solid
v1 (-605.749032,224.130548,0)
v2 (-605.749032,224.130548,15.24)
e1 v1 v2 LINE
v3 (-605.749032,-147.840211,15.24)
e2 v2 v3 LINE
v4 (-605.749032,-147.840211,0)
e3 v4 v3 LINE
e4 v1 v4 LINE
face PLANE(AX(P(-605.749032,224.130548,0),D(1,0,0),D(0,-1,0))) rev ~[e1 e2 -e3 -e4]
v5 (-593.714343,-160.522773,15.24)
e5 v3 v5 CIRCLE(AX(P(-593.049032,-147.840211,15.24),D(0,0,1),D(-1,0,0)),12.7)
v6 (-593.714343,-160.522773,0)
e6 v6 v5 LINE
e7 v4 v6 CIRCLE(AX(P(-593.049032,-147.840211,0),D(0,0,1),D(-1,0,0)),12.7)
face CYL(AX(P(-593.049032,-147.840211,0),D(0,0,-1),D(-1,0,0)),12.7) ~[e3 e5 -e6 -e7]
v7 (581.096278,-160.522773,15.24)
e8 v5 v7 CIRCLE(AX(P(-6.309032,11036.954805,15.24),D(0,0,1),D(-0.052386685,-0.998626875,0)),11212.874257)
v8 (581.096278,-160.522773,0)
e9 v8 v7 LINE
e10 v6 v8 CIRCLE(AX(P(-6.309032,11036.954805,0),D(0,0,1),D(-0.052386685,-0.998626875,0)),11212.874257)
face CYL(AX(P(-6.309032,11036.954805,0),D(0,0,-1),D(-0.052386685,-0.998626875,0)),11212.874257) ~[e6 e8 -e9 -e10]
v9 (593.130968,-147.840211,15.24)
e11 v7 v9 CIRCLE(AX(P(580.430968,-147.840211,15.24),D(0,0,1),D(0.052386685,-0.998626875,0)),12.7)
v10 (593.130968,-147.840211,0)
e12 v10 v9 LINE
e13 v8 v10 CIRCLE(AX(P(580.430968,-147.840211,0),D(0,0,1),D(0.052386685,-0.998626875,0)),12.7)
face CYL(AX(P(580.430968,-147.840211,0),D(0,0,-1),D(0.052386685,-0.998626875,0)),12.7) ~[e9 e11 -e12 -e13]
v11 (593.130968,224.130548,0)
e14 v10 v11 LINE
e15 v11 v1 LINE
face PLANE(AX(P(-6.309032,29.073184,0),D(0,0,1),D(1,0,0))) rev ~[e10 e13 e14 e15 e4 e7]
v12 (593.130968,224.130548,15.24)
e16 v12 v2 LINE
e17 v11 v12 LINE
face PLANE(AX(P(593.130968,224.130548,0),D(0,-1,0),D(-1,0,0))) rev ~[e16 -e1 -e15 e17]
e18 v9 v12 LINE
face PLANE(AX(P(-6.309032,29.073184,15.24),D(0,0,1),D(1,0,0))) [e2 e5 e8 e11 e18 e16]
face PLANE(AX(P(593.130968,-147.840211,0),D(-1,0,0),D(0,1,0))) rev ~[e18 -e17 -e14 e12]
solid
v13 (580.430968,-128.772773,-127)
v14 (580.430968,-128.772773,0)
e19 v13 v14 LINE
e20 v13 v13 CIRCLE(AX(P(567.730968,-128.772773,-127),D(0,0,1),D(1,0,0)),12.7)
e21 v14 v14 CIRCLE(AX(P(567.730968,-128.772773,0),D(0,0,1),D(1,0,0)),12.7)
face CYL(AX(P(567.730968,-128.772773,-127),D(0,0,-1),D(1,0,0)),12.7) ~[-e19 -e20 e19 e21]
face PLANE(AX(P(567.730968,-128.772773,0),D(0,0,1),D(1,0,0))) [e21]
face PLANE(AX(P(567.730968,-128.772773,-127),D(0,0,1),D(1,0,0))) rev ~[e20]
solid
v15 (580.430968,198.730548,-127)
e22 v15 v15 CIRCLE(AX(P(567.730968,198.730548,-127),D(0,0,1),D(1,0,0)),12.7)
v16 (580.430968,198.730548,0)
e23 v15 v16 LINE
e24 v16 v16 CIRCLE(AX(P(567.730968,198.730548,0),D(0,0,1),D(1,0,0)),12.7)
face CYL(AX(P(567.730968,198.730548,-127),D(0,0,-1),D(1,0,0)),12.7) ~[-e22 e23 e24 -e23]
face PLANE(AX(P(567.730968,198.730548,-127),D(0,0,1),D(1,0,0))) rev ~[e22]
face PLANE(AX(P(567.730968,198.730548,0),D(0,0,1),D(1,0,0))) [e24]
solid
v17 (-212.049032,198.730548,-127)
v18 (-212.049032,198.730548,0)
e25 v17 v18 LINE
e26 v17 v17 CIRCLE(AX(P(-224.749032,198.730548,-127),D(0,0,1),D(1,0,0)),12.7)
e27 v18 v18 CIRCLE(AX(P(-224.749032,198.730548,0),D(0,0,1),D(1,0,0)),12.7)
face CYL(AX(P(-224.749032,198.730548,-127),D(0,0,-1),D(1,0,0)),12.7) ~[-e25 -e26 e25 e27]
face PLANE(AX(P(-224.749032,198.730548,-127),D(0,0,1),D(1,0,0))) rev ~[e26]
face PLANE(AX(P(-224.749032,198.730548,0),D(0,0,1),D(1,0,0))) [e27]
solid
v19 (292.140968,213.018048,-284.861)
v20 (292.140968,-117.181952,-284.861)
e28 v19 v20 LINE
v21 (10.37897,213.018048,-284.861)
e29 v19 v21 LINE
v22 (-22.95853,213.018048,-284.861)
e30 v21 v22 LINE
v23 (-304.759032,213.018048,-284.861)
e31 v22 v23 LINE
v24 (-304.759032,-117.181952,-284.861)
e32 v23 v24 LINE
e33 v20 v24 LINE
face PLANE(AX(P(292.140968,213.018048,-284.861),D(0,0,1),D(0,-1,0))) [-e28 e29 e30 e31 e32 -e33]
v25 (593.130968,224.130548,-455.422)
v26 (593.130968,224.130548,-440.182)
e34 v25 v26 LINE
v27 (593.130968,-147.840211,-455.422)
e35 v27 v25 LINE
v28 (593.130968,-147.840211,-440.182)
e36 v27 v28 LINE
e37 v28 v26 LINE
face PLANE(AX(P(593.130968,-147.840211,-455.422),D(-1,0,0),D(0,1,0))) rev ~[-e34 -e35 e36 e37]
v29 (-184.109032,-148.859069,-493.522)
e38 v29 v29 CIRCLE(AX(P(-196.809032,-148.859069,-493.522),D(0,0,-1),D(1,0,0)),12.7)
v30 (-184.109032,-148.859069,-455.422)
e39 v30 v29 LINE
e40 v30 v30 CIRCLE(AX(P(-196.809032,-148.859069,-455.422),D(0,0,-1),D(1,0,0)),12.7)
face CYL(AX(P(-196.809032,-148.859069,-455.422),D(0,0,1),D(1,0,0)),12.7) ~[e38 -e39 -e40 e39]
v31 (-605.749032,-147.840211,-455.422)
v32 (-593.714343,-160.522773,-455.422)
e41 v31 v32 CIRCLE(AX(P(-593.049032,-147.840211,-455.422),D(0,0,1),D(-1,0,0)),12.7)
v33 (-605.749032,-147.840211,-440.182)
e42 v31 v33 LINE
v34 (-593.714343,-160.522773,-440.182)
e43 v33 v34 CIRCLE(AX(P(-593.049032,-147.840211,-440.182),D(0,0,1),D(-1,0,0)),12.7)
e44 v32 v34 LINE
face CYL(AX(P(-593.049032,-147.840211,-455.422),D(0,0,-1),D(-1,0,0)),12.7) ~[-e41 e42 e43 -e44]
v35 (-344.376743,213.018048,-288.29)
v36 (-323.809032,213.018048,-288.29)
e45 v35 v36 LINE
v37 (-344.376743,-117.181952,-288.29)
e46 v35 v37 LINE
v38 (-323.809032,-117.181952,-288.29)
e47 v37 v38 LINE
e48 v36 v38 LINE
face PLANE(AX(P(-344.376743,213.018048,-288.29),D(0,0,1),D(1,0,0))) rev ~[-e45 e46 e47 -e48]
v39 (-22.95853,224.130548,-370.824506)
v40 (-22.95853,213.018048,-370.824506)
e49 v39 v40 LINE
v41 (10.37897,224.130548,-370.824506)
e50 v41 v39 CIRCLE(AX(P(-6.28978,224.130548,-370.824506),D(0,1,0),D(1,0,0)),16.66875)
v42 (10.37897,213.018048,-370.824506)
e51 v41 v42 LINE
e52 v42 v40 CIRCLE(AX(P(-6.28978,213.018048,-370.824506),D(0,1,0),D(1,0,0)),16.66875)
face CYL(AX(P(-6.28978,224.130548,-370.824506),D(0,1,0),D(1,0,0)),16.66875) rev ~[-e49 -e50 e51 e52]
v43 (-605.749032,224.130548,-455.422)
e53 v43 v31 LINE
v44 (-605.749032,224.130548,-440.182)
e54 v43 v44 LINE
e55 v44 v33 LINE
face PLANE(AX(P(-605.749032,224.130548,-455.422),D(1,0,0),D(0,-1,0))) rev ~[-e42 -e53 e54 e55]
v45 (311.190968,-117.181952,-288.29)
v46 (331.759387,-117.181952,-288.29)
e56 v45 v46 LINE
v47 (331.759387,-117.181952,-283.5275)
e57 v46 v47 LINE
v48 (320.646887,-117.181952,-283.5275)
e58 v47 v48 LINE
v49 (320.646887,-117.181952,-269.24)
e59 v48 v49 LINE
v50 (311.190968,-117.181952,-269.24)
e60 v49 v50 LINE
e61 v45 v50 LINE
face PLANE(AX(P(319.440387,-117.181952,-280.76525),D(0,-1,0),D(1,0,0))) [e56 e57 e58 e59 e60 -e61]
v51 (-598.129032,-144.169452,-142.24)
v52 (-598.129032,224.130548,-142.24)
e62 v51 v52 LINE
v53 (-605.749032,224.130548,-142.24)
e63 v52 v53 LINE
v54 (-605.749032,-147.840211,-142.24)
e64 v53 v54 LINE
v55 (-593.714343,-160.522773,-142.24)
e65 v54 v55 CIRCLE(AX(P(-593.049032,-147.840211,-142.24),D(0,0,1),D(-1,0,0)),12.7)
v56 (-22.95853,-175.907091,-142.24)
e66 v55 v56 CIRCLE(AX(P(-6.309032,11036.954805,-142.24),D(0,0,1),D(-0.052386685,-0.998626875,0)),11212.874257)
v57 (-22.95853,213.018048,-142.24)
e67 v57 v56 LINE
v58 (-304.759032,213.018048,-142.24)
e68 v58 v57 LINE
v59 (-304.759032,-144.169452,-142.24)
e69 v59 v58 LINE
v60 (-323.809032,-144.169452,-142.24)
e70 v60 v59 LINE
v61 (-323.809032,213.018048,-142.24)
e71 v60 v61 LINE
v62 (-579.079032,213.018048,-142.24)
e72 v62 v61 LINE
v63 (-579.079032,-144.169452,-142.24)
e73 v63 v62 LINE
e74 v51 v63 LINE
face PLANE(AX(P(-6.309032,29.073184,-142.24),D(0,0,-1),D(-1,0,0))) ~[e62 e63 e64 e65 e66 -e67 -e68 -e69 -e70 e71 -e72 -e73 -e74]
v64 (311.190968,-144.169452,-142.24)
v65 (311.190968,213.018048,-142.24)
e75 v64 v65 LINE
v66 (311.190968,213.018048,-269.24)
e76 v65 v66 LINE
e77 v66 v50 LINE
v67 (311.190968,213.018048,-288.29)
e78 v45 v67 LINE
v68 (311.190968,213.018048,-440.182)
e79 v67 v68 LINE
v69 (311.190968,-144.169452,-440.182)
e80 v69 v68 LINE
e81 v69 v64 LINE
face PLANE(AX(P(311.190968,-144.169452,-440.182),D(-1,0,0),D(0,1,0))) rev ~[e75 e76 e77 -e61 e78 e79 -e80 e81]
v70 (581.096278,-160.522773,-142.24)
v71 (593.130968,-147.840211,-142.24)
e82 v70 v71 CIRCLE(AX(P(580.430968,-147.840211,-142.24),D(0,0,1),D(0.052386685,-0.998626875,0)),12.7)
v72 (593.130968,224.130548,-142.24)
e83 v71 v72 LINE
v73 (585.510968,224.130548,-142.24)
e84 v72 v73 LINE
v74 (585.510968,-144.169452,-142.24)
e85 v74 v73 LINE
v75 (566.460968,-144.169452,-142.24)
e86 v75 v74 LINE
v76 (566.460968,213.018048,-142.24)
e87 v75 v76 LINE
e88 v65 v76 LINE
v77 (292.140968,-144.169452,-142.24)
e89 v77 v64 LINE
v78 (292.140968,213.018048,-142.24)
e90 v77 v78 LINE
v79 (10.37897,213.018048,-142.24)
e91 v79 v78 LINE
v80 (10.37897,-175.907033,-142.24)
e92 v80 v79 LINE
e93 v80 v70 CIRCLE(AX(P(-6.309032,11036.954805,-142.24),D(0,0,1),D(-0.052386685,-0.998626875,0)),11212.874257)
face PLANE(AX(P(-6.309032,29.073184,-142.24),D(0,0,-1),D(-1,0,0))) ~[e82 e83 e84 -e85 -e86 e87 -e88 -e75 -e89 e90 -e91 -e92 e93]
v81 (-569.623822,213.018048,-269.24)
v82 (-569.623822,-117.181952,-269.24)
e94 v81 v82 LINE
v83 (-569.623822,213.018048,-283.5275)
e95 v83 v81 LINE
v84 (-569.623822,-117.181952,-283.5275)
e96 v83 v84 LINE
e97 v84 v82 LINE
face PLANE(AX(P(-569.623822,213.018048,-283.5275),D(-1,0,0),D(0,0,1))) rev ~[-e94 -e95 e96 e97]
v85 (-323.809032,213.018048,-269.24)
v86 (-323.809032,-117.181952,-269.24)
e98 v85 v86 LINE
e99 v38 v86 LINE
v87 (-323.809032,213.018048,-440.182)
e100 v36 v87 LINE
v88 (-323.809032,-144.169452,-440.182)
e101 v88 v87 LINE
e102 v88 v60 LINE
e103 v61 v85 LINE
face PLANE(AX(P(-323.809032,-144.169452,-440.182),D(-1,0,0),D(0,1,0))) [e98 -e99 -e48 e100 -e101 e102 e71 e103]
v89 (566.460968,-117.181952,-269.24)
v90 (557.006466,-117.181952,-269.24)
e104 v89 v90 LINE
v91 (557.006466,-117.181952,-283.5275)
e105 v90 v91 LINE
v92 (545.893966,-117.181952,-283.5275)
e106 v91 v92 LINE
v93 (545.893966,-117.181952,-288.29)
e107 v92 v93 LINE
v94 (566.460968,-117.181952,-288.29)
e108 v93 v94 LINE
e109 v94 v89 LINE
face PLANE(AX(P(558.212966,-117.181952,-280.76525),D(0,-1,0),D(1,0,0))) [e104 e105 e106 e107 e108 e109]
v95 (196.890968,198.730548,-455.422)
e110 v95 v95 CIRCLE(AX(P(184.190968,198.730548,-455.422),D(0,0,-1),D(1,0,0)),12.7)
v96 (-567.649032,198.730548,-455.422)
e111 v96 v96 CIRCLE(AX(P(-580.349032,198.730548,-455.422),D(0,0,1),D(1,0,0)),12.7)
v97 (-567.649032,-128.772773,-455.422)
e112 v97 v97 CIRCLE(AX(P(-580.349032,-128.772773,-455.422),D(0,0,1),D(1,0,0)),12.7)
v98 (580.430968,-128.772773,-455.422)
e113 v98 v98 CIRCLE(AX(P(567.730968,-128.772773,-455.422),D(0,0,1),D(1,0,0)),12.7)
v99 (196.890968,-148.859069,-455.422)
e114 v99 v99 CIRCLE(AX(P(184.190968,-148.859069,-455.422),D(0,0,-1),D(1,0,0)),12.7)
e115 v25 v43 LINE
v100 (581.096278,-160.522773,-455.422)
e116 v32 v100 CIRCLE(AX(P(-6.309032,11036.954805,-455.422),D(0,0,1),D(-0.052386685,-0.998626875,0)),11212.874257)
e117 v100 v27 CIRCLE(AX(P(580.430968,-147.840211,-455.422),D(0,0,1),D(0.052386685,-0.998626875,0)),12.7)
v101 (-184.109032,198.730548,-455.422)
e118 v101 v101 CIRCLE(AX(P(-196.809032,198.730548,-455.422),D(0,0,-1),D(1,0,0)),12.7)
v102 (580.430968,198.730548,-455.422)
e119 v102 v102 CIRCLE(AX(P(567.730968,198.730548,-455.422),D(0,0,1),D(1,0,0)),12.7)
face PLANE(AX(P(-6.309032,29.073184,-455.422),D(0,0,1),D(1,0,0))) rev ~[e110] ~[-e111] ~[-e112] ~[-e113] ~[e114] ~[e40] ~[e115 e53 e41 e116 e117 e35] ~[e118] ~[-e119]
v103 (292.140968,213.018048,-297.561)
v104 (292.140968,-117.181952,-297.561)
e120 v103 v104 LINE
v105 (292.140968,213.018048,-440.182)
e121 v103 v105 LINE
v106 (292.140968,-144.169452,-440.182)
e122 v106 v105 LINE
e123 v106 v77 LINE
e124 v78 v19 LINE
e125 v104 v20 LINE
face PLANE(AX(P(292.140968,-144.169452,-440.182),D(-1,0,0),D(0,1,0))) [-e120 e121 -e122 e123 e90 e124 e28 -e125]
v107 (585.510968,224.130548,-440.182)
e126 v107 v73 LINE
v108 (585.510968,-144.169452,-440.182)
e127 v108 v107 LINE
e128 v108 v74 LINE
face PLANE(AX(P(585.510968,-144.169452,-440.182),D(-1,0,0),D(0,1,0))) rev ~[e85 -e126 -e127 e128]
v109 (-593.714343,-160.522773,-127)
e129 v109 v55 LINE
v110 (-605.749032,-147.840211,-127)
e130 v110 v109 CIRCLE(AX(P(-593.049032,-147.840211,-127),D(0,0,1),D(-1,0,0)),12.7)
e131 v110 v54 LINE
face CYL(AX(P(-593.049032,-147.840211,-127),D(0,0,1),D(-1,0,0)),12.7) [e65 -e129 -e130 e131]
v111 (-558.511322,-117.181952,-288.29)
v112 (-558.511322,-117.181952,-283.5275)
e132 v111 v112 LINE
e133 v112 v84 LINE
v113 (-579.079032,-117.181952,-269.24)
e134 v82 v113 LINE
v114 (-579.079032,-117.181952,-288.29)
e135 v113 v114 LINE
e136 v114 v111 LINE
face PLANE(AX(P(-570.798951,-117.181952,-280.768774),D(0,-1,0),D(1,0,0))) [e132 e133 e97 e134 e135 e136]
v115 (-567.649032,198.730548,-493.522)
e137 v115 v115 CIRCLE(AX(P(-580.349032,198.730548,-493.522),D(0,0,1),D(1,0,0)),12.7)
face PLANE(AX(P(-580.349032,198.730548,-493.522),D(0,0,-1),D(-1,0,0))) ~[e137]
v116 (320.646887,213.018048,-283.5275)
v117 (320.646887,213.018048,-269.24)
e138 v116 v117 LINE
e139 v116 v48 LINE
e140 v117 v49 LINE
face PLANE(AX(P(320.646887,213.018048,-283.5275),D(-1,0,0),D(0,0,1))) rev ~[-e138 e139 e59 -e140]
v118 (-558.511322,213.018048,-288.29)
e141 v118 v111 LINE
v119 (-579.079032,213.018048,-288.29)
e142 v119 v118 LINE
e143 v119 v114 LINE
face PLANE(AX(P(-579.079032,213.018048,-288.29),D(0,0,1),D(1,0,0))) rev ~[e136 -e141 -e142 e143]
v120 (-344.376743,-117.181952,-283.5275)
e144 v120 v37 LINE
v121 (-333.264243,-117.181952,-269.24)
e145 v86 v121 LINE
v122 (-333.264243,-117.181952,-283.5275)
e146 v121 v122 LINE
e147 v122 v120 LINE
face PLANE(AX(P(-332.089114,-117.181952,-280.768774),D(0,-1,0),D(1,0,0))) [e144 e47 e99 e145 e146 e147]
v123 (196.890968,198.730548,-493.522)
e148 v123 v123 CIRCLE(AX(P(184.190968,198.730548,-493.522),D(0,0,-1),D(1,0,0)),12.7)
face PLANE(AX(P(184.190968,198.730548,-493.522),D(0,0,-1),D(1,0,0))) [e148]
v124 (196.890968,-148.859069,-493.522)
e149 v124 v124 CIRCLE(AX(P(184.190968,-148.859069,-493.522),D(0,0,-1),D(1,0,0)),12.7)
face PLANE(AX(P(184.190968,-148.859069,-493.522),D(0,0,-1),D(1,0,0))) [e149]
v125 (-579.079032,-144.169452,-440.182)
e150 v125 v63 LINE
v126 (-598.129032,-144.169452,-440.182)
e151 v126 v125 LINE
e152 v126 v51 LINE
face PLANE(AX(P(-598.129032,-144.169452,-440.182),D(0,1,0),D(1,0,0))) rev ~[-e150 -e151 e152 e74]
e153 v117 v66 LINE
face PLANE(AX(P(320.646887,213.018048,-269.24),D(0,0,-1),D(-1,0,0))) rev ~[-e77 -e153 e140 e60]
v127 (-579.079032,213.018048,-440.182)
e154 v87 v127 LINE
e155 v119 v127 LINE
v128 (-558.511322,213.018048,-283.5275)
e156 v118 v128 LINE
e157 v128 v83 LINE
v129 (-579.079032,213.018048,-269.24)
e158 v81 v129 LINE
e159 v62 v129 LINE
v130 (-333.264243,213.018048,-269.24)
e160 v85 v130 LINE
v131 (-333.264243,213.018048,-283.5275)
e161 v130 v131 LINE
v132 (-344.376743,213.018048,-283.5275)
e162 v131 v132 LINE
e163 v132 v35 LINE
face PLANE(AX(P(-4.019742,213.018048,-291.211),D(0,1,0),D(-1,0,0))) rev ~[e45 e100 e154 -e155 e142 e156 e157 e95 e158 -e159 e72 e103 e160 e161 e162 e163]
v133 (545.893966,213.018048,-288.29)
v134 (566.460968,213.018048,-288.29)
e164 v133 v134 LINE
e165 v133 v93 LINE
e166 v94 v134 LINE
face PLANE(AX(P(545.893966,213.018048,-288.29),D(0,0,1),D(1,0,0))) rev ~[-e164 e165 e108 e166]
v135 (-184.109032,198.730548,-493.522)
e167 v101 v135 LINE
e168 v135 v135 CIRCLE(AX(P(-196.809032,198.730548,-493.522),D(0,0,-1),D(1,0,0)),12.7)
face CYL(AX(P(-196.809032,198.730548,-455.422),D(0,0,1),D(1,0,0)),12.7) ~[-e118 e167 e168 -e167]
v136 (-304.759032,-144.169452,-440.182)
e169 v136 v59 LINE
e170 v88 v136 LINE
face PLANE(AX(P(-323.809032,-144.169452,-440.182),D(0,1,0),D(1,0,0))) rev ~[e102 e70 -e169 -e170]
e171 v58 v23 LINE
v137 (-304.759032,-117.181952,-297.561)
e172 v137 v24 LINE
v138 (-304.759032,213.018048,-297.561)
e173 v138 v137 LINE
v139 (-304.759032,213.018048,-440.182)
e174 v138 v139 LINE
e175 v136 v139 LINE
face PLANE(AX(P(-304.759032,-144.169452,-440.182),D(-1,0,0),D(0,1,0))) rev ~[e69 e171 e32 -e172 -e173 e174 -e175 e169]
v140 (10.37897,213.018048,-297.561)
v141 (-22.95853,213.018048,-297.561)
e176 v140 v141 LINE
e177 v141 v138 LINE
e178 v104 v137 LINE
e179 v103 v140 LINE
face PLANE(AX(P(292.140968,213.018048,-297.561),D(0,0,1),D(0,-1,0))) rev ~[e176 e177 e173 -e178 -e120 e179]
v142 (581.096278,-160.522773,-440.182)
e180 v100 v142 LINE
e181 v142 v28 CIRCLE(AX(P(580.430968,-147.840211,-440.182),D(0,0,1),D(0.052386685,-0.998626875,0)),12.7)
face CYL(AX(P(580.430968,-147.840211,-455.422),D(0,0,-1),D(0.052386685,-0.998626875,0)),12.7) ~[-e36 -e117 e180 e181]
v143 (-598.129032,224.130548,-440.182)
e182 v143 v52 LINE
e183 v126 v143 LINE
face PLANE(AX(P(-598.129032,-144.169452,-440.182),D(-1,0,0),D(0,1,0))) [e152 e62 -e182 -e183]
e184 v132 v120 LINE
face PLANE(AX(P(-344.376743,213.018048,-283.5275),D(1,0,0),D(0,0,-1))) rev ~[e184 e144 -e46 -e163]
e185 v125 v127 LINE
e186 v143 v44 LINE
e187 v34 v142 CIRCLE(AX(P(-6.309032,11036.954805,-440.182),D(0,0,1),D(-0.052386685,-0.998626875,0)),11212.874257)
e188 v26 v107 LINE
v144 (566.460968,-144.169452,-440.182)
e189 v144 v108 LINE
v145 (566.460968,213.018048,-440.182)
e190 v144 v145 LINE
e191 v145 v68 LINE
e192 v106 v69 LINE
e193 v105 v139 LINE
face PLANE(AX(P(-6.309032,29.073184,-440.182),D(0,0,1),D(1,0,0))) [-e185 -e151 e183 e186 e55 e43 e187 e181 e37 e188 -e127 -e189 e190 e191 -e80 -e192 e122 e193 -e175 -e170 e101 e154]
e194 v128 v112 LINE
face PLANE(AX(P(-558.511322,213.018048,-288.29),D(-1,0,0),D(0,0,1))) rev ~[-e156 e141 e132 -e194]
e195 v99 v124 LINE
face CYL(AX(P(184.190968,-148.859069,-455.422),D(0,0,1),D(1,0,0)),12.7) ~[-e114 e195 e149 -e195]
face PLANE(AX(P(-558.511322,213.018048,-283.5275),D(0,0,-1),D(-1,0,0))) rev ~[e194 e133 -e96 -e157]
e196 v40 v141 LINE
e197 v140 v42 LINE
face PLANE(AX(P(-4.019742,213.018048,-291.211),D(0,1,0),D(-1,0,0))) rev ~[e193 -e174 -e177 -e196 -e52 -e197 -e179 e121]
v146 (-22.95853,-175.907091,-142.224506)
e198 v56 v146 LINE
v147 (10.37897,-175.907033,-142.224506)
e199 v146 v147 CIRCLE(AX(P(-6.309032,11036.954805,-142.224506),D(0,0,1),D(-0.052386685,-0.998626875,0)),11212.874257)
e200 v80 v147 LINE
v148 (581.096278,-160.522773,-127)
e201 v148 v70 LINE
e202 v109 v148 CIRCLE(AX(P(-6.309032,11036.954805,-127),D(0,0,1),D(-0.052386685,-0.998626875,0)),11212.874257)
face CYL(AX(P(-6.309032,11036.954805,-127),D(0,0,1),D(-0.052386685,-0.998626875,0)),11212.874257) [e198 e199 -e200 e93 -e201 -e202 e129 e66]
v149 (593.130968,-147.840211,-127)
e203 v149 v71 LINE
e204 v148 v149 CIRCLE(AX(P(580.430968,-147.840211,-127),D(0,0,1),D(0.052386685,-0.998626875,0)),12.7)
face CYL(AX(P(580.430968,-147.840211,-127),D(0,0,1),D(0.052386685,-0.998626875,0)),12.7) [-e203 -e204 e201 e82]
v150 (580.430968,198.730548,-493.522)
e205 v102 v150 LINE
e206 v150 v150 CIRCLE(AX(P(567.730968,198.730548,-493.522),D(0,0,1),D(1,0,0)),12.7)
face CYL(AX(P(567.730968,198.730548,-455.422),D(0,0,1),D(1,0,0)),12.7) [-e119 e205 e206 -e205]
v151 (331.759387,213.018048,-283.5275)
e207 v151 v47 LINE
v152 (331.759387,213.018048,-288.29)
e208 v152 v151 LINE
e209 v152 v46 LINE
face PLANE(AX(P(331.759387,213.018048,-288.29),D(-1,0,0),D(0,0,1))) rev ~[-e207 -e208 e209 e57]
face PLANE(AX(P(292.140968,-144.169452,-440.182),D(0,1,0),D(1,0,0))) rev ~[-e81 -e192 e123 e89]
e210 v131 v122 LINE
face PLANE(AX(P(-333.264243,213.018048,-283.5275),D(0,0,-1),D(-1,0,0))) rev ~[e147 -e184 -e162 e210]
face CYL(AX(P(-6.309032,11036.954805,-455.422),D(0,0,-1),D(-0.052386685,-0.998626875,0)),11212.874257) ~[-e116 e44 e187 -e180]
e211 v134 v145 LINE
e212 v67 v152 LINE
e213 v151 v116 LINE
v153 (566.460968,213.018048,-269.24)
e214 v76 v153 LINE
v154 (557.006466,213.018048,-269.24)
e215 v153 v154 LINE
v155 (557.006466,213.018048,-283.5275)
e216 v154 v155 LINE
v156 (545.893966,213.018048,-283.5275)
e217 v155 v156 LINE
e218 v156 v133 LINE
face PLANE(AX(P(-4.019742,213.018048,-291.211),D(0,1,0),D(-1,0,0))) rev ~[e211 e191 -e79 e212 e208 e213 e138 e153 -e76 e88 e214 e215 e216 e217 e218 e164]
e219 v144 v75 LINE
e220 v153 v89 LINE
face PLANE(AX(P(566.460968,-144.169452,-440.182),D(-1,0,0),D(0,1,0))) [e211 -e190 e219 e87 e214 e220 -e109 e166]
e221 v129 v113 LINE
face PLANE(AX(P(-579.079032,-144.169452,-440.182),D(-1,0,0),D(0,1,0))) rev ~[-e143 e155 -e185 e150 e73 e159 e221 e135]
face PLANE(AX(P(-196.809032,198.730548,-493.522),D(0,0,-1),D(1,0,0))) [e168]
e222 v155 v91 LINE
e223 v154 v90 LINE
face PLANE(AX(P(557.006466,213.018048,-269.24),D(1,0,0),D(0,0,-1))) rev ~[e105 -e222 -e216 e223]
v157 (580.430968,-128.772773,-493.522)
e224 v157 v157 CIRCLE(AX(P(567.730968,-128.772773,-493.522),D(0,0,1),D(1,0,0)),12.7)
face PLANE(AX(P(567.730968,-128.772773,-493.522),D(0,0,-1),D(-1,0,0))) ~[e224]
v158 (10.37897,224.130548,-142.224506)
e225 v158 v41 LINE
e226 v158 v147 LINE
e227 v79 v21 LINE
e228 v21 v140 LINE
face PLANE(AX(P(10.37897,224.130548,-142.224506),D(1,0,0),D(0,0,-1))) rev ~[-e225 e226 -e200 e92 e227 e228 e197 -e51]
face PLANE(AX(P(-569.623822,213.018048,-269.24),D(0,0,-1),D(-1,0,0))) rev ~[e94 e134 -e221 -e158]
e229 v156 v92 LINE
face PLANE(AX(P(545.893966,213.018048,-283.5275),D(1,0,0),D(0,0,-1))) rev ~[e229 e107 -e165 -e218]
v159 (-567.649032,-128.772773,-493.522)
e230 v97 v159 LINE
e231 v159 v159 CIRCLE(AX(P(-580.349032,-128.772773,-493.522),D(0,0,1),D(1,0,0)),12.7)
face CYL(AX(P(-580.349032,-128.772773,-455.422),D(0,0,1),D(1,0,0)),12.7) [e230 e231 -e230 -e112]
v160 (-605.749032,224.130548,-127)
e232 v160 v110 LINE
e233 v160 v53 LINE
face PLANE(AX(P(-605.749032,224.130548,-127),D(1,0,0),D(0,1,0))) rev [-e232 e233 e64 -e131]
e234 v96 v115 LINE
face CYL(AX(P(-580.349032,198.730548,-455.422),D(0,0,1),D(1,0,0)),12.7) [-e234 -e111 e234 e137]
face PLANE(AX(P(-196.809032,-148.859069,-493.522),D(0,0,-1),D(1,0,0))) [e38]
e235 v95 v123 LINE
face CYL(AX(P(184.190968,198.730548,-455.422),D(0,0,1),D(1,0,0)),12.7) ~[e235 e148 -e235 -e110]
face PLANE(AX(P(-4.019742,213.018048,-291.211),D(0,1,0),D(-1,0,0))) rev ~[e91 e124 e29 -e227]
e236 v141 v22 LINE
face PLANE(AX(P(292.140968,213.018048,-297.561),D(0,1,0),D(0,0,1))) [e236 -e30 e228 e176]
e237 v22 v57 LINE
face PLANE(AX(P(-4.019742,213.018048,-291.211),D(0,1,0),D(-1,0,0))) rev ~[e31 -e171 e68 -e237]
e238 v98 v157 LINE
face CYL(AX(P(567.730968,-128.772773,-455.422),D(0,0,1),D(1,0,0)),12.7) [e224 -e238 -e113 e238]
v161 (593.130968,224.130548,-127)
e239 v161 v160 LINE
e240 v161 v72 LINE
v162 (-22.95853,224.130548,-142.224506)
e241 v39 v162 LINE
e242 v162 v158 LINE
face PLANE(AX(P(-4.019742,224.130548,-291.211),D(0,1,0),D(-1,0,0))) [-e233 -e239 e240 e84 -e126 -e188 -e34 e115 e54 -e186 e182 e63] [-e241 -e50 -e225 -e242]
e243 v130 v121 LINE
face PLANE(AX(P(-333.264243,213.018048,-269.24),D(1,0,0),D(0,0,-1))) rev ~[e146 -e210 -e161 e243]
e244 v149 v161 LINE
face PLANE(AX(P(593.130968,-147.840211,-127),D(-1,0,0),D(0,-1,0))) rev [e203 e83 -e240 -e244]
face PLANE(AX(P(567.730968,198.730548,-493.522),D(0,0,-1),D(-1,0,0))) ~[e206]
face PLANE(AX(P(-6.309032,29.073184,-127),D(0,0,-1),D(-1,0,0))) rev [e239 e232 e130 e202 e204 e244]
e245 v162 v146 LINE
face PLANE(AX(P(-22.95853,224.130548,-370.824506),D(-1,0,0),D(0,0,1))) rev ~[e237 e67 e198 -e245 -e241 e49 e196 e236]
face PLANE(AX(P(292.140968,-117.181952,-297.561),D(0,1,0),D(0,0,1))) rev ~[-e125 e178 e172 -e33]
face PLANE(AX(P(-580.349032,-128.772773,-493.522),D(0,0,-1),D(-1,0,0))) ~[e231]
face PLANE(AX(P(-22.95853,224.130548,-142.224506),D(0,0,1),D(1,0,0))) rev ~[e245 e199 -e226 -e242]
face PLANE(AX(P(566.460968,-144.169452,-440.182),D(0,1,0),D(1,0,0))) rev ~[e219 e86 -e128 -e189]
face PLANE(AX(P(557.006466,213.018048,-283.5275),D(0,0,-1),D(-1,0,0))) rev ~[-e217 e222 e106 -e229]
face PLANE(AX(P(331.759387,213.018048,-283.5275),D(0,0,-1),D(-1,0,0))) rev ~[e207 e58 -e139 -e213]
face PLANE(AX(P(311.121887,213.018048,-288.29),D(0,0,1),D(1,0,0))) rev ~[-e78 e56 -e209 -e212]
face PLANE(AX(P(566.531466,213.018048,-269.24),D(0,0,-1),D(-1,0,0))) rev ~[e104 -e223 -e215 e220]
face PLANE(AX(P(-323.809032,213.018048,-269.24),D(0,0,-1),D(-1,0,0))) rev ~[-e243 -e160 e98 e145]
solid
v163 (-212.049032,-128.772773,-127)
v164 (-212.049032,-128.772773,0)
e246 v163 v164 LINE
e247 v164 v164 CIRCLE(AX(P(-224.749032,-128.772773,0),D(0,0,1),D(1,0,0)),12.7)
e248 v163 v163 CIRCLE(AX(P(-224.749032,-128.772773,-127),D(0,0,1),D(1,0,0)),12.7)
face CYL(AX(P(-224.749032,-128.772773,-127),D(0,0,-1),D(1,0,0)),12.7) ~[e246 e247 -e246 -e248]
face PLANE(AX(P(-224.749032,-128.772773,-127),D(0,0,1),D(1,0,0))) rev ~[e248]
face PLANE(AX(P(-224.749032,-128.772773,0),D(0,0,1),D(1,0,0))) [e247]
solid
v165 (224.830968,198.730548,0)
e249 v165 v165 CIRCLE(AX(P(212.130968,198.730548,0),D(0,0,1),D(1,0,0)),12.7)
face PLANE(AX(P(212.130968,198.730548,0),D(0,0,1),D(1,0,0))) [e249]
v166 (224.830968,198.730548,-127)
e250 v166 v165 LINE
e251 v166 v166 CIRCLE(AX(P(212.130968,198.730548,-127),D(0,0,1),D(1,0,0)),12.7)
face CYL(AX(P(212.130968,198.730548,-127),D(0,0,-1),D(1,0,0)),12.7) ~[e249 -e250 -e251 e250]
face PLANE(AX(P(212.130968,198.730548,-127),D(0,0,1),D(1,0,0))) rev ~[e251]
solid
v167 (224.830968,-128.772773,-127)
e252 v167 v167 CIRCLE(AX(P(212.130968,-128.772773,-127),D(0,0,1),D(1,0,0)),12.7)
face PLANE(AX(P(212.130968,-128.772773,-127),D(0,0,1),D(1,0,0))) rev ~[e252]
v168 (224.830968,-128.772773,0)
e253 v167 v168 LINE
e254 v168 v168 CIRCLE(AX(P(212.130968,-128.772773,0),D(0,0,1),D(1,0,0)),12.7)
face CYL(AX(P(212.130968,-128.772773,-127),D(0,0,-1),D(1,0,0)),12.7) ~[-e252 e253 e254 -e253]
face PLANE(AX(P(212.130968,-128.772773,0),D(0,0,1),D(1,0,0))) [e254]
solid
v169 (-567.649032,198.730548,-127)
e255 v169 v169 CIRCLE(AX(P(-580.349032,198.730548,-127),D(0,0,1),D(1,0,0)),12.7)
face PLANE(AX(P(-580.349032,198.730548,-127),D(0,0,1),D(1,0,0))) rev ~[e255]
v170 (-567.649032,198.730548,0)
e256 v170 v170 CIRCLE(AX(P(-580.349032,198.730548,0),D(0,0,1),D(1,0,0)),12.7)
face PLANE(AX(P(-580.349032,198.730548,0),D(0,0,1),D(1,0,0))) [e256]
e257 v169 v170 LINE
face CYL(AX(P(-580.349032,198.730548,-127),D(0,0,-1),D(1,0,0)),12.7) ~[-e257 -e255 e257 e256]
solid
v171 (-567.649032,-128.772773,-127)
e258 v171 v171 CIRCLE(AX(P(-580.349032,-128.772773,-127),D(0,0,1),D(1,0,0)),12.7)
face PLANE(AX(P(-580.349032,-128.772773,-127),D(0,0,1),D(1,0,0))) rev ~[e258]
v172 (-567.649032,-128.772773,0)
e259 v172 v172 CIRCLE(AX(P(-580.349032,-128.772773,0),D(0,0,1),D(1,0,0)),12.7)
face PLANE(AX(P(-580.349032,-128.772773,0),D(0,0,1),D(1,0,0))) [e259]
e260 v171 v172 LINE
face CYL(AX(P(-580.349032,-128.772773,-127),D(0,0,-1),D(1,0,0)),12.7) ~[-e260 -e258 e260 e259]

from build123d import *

# Parameters (mm, degrees)
F1_DEPTH  = 15.24
F4_R      = 12.7
F5_DEPTH  = 127
F8_W      = 19.05
F8_H      = 368.3
F9_DEPTH  = 297.942
F11_DEPTH = 88.9
F12_R     = 12.7
F13_DEPTH = 38.1
F14_DEPTH = 127
F16_DEPTH = 11.1125
F17_DEPTH = 11.1125
F19_DEPTH = 400.051
F20_W     = 330.2
F20_H     = 12.7
F21_DEPTH = 596.9
F24_DEPTH = 330.2


with BuildPart() as f1:
    # F0 (on Top) → F1 (new body)
    with BuildSketch(Plane.XY):
        with BuildLine():
            Line((593.1309675598, 224.1305482292), (-605.7490324402, 224.1305482292))
            Line((-605.7490324402, 224.1305482292), (-605.7490324402, -147.8402112013))
            ThreePointArc((-605.7490324402, -147.8402112013), (-602.2615089914, -156.582080326), (-593.7143433388, -160.5227725123))
            ThreePointArc((-593.7143433388, -160.5227725123), (-6.3090324402, -175.9194517708), (581.0962784585, -160.5227725123))
            ThreePointArc((581.0962784585, -160.5227725123), (589.643444111, -156.582080326), (593.1309675598, -147.8402112013))
            Line((593.1309675598, -147.8402112013), (593.1309675598, 224.1305482292))
        make_face()
    extrude(amount=F1_DEPTH)


with BuildPart() as f3_1:
    # F3: instance of F1
    add(f1.part.mirror(Plane.XY.offset(-63.5)))


with BuildPart() as f5:
    # F4 (on face) → F5 (new body)
    with BuildSketch(Plane.XY.offset(-127)):
        with Locations((-580.3490324402, -128.7727725123)):
            Circle(F4_R)
    extrude(amount=F5_DEPTH)


with BuildPart() as f5b:
    # F4 (on face) → F5, piece 2 (new body)
    with BuildSketch(Plane.XY.offset(-127)):
        with Locations((-580.3490324402, 198.7305482292)):
            Circle(F4_R)
    extrude(amount=F5_DEPTH)


with BuildPart() as f5c:
    # F4 (on face) → F5, piece 3 (new body)
    with BuildSketch(Plane.XY.offset(-127)):
        with Locations((567.7309675598, 198.7305482292)):
            Circle(F4_R)
    extrude(amount=F5_DEPTH)


with BuildPart() as f5d:
    # F4 (on face) → F5, piece 4 (new body)
    with BuildSketch(Plane.XY.offset(-127)):
        with Locations((567.7309675598, -128.7727725123)):
            Circle(F4_R)
    extrude(amount=F5_DEPTH)


with BuildPart() as f7_1:
    # F7: instance of F3_1
    add(f3_1.part.mirror(Plane(origin=(-6.3090324402, 26.7720476181, -291.211), x_dir=(1, 0, 0), z_dir=(0, 0, -1))))

    # F10: F5d, F5c, F5b, F5 across plane
    add(f5d.part.mirror(Plane(origin=(-6.3090324402, 26.7720476181, -291.211), x_dir=(1, 0, 0), z_dir=(0, 0, -1))))
    add(f5c.part.mirror(Plane(origin=(-6.3090324402, 26.7720476181, -291.211), x_dir=(1, 0, 0), z_dir=(0, 0, -1))))
    add(f5b.part.mirror(Plane(origin=(-6.3090324402, 26.7720476181, -291.211), x_dir=(1, 0, 0), z_dir=(0, 0, -1))))
    add(f5.part.mirror(Plane(origin=(-6.3090324402, 26.7720476181, -291.211), x_dir=(1, 0, 0), z_dir=(0, 0, -1))))

    # F11 (cut): faces of the model
    f11_faces = [f7_1.faces().sort_by_distance(p)[0] for p in [
        (567.7309675598, -128.7727725123, -582.422),
        (567.7309675598, 198.7305482292, -582.422),
        (-580.3490324402, 198.7305482292, -582.422),
        (-580.3490324402, -128.7727725123, -582.422),
    ]]
    extrude(f11_faces, amount=-F11_DEPTH, mode=Mode.SUBTRACT)

    # F12 (on face) → F13 (join)
    with BuildSketch(Plane(origin=(0, 0, -455.422), x_dir=(1, 0, 0), z_dir=(0, 0, -1))):
        with Locations((184.1909675598, 148.8590687513)):
            Circle(F12_R)
        with Locations((-196.8090324402, 148.8590687513)):
            Circle(F12_R)
        with Locations((184.1909675598, -198.7305482292)):
            Circle(F12_R)
        with Locations((-196.8090324402, -198.7305482292)):
            Circle(F12_R)
    extrude(amount=F13_DEPTH)


with BuildPart() as f9:
    # F8 (on face) → F9 (new body)
    with BuildSketch(Plane.XY.offset(-440.182)):
        with Locations((-314.2840324402, 39.9805482292)):
            Rectangle(F8_W, F8_H)
    extrude(amount=F9_DEPTH)


with BuildPart() as f9b:
    # F8 (on face) → F9, piece 2 (new body)
    with BuildSketch(Plane.XY.offset(-440.182)):
        with Locations((-588.6040324402, 39.9805482292)):
            Rectangle(F8_W, F8_H)
    extrude(amount=F9_DEPTH)


with BuildPart() as f9c:
    # F8 (on face) → F9, piece 3 (new body)
    with BuildSketch(Plane.XY.offset(-440.182)):
        with Locations((301.6659675598, 39.9805482292)):
            Rectangle(F8_W, F8_H)
    extrude(amount=F9_DEPTH)


with BuildPart() as f9d:
    # F8 (on face) → F9, piece 4 (new body)
    with BuildSketch(Plane.XY.offset(-440.182)):
        with Locations((575.9859675598, 39.9805482292)):
            Rectangle(F8_W, F8_H)
    extrude(amount=F9_DEPTH)


with BuildPart() as f14:
    # F4 (on face) → F14 (new body)
    with BuildSketch(Plane.XY.offset(-127)):
        with Locations((-224.7490324402, -128.7727725123)):
            Circle(F4_R)
    extrude(amount=F14_DEPTH)


with BuildPart() as f14b:
    # F4 (on face) → F14, piece 2 (new body)
    with BuildSketch(Plane.XY.offset(-127)):
        with Locations((212.1309675598, -128.7727725123)):
            Circle(F4_R)
    extrude(amount=F14_DEPTH)


with BuildPart() as f14c:
    # F4 (on face) → F14, piece 3 (new body)
    with BuildSketch(Plane.XY.offset(-127)):
        with Locations((212.1309675598, 198.7305482292)):
            Circle(F4_R)
    extrude(amount=F14_DEPTH)


with BuildPart() as f14d:
    # F4 (on face) → F14, piece 4 (new body)
    with BuildSketch(Plane.XY.offset(-127)):
        with Locations((-224.7490324402, 198.7305482292)):
            Circle(F4_R)
    extrude(amount=F14_DEPTH)


with BuildPart() as f16_tool:
    # F15 (on face) → F16 (new body)
    with BuildSketch(Plane(origin=(0, 224.1305482292, 0), x_dir=(-1, 0, 0), z_dir=(0, 1, 0))):
        Polygon((-574.3984675598, -134.3025), (-574.3984675598, -142.24), (-566.4609675598, -142.24), (-566.4609675598, -440.182), (-574.3984675598, -440.182), (-574.3984675598, -448.1195), (587.0165340424, -448.1195), (587.0165340424, -134.3025), align=None)
    extrude(amount=-F16_DEPTH)


with BuildPart() as f3_1_1:
    add(f3_1.part)

    # F16: cut by f16_tool
    add(f16_tool.part, mode=Mode.SUBTRACT)



with BuildPart() as f7_1_1:
    add(f7_1.part)

    # F16: cut by f16_tool
    add(f16_tool.part, mode=Mode.SUBTRACT)


with BuildPart() as f9_1:
    add(f9.part)

    # F16: cut by f16_tool
    add(f16_tool.part, mode=Mode.SUBTRACT)


with BuildPart() as f9b_1:
    add(f9b.part)

    # F16: cut by f16_tool
    add(f16_tool.part, mode=Mode.SUBTRACT)


with BuildPart() as f9c_1:
    add(f9c.part)

    # F16: cut by f16_tool
    add(f16_tool.part, mode=Mode.SUBTRACT)


with BuildPart() as f3_1_2:
    add(f3_1_1.part)

    add(f7_1_1.part)  # F17 merges F7_1

    add(f9_1.part)  # F17 merges F9

    add(f9b_1.part)  # F17 merges F9b

    add(f9c_1.part)  # F17 merges F9c

    add(f9d.part)  # F17 merges F9d
    # F15 (on face) → F17 (join)
    with BuildSketch(Plane(origin=(0, 224.1305482292, 0), x_dir=(-1, 0, 0), z_dir=(0, 1, 0))):
        Polygon((-574.3984675598, -134.3025), (-574.3984675598, -142.24), (-566.4609675598, -142.24), (-566.4609675598, -440.182), (-574.3984675598, -440.182), (-574.3984675598, -448.1195), (587.0165340424, -448.1195), (587.0165340424, -134.3025), align=None)
    extrude(amount=-F17_DEPTH)

    # F18 (on face) → F19 (cut, through all)
    with BuildSketch(Plane(origin=(0, 224.1305482292, 0), x_dir=(-1, 0, 0), z_dir=(0, 1, 0))):
        with BuildLine():
            ThreePointArc((-10.3789698601, -370.8245055437), (6.2897801399, -387.4932555437), (22.9585301399, -370.8245055437))
            Line((22.9585301399, -370.8245055437), (22.9585301399, -142.2245055437))
            Line((22.9585301399, -142.2245055437), (-10.3789698601, -142.2245055437))
            Line((-10.3789698601, -142.2245055437), (-10.3789698601, -370.8245055437))
        make_face()
    extrude(amount=-F19_DEPTH, mode=Mode.SUBTRACT)

    # F20 (on face) → F21 (join)
    with BuildSketch(Plane(origin=(292.1409675598, 0, 0), x_dir=(0, -1, 0), z_dir=(-1, 0, 0))):
        with Locations((-47.9180482292, -291.211)):
            Rectangle(F20_W, F20_H)
    extrude(amount=F21_DEPTH)

    # F23 (on face) → F24 (join)
    with BuildSketch(Plane.XZ.offset(-213.0180482292)):
        Polygon((-323.8090324402, -288.29), (-323.8090324402, -269.24), (-333.2642428398, -269.24), (-333.2642428398, -283.5275), (-344.3767428398, -283.5275), (-344.3767428398, -288.29), align=None)
        Polygon((-569.6238220406, -269.24), (-579.0790324402, -269.24), (-579.0790324402, -288.29), (-558.5113220406, -288.29), (-558.5113220406, -283.5275), (-569.6238220406, -283.5275), align=None)
        Polygon((320.6468866959, -269.24), (311.1218866959, -269.24), (311.1218866959, -288.29), (331.7593866959, -288.29), (331.7593866959, -283.5275), (320.6468866959, -283.5275), align=None)
        Polygon((566.5314658967, -288.29), (566.5314658967, -269.24), (557.0064658967, -269.24), (557.0064658967, -283.5275), (545.8939658967, -283.5275), (545.8939658967, -288.29), align=None)
    extrude(amount=F24_DEPTH)


solid = Compound([f1.part, f5.part, f5b.part, f5c.part, f5d.part, f14.part, f14b.part, f14c.part, f14d.part, f3_1_2.part])
